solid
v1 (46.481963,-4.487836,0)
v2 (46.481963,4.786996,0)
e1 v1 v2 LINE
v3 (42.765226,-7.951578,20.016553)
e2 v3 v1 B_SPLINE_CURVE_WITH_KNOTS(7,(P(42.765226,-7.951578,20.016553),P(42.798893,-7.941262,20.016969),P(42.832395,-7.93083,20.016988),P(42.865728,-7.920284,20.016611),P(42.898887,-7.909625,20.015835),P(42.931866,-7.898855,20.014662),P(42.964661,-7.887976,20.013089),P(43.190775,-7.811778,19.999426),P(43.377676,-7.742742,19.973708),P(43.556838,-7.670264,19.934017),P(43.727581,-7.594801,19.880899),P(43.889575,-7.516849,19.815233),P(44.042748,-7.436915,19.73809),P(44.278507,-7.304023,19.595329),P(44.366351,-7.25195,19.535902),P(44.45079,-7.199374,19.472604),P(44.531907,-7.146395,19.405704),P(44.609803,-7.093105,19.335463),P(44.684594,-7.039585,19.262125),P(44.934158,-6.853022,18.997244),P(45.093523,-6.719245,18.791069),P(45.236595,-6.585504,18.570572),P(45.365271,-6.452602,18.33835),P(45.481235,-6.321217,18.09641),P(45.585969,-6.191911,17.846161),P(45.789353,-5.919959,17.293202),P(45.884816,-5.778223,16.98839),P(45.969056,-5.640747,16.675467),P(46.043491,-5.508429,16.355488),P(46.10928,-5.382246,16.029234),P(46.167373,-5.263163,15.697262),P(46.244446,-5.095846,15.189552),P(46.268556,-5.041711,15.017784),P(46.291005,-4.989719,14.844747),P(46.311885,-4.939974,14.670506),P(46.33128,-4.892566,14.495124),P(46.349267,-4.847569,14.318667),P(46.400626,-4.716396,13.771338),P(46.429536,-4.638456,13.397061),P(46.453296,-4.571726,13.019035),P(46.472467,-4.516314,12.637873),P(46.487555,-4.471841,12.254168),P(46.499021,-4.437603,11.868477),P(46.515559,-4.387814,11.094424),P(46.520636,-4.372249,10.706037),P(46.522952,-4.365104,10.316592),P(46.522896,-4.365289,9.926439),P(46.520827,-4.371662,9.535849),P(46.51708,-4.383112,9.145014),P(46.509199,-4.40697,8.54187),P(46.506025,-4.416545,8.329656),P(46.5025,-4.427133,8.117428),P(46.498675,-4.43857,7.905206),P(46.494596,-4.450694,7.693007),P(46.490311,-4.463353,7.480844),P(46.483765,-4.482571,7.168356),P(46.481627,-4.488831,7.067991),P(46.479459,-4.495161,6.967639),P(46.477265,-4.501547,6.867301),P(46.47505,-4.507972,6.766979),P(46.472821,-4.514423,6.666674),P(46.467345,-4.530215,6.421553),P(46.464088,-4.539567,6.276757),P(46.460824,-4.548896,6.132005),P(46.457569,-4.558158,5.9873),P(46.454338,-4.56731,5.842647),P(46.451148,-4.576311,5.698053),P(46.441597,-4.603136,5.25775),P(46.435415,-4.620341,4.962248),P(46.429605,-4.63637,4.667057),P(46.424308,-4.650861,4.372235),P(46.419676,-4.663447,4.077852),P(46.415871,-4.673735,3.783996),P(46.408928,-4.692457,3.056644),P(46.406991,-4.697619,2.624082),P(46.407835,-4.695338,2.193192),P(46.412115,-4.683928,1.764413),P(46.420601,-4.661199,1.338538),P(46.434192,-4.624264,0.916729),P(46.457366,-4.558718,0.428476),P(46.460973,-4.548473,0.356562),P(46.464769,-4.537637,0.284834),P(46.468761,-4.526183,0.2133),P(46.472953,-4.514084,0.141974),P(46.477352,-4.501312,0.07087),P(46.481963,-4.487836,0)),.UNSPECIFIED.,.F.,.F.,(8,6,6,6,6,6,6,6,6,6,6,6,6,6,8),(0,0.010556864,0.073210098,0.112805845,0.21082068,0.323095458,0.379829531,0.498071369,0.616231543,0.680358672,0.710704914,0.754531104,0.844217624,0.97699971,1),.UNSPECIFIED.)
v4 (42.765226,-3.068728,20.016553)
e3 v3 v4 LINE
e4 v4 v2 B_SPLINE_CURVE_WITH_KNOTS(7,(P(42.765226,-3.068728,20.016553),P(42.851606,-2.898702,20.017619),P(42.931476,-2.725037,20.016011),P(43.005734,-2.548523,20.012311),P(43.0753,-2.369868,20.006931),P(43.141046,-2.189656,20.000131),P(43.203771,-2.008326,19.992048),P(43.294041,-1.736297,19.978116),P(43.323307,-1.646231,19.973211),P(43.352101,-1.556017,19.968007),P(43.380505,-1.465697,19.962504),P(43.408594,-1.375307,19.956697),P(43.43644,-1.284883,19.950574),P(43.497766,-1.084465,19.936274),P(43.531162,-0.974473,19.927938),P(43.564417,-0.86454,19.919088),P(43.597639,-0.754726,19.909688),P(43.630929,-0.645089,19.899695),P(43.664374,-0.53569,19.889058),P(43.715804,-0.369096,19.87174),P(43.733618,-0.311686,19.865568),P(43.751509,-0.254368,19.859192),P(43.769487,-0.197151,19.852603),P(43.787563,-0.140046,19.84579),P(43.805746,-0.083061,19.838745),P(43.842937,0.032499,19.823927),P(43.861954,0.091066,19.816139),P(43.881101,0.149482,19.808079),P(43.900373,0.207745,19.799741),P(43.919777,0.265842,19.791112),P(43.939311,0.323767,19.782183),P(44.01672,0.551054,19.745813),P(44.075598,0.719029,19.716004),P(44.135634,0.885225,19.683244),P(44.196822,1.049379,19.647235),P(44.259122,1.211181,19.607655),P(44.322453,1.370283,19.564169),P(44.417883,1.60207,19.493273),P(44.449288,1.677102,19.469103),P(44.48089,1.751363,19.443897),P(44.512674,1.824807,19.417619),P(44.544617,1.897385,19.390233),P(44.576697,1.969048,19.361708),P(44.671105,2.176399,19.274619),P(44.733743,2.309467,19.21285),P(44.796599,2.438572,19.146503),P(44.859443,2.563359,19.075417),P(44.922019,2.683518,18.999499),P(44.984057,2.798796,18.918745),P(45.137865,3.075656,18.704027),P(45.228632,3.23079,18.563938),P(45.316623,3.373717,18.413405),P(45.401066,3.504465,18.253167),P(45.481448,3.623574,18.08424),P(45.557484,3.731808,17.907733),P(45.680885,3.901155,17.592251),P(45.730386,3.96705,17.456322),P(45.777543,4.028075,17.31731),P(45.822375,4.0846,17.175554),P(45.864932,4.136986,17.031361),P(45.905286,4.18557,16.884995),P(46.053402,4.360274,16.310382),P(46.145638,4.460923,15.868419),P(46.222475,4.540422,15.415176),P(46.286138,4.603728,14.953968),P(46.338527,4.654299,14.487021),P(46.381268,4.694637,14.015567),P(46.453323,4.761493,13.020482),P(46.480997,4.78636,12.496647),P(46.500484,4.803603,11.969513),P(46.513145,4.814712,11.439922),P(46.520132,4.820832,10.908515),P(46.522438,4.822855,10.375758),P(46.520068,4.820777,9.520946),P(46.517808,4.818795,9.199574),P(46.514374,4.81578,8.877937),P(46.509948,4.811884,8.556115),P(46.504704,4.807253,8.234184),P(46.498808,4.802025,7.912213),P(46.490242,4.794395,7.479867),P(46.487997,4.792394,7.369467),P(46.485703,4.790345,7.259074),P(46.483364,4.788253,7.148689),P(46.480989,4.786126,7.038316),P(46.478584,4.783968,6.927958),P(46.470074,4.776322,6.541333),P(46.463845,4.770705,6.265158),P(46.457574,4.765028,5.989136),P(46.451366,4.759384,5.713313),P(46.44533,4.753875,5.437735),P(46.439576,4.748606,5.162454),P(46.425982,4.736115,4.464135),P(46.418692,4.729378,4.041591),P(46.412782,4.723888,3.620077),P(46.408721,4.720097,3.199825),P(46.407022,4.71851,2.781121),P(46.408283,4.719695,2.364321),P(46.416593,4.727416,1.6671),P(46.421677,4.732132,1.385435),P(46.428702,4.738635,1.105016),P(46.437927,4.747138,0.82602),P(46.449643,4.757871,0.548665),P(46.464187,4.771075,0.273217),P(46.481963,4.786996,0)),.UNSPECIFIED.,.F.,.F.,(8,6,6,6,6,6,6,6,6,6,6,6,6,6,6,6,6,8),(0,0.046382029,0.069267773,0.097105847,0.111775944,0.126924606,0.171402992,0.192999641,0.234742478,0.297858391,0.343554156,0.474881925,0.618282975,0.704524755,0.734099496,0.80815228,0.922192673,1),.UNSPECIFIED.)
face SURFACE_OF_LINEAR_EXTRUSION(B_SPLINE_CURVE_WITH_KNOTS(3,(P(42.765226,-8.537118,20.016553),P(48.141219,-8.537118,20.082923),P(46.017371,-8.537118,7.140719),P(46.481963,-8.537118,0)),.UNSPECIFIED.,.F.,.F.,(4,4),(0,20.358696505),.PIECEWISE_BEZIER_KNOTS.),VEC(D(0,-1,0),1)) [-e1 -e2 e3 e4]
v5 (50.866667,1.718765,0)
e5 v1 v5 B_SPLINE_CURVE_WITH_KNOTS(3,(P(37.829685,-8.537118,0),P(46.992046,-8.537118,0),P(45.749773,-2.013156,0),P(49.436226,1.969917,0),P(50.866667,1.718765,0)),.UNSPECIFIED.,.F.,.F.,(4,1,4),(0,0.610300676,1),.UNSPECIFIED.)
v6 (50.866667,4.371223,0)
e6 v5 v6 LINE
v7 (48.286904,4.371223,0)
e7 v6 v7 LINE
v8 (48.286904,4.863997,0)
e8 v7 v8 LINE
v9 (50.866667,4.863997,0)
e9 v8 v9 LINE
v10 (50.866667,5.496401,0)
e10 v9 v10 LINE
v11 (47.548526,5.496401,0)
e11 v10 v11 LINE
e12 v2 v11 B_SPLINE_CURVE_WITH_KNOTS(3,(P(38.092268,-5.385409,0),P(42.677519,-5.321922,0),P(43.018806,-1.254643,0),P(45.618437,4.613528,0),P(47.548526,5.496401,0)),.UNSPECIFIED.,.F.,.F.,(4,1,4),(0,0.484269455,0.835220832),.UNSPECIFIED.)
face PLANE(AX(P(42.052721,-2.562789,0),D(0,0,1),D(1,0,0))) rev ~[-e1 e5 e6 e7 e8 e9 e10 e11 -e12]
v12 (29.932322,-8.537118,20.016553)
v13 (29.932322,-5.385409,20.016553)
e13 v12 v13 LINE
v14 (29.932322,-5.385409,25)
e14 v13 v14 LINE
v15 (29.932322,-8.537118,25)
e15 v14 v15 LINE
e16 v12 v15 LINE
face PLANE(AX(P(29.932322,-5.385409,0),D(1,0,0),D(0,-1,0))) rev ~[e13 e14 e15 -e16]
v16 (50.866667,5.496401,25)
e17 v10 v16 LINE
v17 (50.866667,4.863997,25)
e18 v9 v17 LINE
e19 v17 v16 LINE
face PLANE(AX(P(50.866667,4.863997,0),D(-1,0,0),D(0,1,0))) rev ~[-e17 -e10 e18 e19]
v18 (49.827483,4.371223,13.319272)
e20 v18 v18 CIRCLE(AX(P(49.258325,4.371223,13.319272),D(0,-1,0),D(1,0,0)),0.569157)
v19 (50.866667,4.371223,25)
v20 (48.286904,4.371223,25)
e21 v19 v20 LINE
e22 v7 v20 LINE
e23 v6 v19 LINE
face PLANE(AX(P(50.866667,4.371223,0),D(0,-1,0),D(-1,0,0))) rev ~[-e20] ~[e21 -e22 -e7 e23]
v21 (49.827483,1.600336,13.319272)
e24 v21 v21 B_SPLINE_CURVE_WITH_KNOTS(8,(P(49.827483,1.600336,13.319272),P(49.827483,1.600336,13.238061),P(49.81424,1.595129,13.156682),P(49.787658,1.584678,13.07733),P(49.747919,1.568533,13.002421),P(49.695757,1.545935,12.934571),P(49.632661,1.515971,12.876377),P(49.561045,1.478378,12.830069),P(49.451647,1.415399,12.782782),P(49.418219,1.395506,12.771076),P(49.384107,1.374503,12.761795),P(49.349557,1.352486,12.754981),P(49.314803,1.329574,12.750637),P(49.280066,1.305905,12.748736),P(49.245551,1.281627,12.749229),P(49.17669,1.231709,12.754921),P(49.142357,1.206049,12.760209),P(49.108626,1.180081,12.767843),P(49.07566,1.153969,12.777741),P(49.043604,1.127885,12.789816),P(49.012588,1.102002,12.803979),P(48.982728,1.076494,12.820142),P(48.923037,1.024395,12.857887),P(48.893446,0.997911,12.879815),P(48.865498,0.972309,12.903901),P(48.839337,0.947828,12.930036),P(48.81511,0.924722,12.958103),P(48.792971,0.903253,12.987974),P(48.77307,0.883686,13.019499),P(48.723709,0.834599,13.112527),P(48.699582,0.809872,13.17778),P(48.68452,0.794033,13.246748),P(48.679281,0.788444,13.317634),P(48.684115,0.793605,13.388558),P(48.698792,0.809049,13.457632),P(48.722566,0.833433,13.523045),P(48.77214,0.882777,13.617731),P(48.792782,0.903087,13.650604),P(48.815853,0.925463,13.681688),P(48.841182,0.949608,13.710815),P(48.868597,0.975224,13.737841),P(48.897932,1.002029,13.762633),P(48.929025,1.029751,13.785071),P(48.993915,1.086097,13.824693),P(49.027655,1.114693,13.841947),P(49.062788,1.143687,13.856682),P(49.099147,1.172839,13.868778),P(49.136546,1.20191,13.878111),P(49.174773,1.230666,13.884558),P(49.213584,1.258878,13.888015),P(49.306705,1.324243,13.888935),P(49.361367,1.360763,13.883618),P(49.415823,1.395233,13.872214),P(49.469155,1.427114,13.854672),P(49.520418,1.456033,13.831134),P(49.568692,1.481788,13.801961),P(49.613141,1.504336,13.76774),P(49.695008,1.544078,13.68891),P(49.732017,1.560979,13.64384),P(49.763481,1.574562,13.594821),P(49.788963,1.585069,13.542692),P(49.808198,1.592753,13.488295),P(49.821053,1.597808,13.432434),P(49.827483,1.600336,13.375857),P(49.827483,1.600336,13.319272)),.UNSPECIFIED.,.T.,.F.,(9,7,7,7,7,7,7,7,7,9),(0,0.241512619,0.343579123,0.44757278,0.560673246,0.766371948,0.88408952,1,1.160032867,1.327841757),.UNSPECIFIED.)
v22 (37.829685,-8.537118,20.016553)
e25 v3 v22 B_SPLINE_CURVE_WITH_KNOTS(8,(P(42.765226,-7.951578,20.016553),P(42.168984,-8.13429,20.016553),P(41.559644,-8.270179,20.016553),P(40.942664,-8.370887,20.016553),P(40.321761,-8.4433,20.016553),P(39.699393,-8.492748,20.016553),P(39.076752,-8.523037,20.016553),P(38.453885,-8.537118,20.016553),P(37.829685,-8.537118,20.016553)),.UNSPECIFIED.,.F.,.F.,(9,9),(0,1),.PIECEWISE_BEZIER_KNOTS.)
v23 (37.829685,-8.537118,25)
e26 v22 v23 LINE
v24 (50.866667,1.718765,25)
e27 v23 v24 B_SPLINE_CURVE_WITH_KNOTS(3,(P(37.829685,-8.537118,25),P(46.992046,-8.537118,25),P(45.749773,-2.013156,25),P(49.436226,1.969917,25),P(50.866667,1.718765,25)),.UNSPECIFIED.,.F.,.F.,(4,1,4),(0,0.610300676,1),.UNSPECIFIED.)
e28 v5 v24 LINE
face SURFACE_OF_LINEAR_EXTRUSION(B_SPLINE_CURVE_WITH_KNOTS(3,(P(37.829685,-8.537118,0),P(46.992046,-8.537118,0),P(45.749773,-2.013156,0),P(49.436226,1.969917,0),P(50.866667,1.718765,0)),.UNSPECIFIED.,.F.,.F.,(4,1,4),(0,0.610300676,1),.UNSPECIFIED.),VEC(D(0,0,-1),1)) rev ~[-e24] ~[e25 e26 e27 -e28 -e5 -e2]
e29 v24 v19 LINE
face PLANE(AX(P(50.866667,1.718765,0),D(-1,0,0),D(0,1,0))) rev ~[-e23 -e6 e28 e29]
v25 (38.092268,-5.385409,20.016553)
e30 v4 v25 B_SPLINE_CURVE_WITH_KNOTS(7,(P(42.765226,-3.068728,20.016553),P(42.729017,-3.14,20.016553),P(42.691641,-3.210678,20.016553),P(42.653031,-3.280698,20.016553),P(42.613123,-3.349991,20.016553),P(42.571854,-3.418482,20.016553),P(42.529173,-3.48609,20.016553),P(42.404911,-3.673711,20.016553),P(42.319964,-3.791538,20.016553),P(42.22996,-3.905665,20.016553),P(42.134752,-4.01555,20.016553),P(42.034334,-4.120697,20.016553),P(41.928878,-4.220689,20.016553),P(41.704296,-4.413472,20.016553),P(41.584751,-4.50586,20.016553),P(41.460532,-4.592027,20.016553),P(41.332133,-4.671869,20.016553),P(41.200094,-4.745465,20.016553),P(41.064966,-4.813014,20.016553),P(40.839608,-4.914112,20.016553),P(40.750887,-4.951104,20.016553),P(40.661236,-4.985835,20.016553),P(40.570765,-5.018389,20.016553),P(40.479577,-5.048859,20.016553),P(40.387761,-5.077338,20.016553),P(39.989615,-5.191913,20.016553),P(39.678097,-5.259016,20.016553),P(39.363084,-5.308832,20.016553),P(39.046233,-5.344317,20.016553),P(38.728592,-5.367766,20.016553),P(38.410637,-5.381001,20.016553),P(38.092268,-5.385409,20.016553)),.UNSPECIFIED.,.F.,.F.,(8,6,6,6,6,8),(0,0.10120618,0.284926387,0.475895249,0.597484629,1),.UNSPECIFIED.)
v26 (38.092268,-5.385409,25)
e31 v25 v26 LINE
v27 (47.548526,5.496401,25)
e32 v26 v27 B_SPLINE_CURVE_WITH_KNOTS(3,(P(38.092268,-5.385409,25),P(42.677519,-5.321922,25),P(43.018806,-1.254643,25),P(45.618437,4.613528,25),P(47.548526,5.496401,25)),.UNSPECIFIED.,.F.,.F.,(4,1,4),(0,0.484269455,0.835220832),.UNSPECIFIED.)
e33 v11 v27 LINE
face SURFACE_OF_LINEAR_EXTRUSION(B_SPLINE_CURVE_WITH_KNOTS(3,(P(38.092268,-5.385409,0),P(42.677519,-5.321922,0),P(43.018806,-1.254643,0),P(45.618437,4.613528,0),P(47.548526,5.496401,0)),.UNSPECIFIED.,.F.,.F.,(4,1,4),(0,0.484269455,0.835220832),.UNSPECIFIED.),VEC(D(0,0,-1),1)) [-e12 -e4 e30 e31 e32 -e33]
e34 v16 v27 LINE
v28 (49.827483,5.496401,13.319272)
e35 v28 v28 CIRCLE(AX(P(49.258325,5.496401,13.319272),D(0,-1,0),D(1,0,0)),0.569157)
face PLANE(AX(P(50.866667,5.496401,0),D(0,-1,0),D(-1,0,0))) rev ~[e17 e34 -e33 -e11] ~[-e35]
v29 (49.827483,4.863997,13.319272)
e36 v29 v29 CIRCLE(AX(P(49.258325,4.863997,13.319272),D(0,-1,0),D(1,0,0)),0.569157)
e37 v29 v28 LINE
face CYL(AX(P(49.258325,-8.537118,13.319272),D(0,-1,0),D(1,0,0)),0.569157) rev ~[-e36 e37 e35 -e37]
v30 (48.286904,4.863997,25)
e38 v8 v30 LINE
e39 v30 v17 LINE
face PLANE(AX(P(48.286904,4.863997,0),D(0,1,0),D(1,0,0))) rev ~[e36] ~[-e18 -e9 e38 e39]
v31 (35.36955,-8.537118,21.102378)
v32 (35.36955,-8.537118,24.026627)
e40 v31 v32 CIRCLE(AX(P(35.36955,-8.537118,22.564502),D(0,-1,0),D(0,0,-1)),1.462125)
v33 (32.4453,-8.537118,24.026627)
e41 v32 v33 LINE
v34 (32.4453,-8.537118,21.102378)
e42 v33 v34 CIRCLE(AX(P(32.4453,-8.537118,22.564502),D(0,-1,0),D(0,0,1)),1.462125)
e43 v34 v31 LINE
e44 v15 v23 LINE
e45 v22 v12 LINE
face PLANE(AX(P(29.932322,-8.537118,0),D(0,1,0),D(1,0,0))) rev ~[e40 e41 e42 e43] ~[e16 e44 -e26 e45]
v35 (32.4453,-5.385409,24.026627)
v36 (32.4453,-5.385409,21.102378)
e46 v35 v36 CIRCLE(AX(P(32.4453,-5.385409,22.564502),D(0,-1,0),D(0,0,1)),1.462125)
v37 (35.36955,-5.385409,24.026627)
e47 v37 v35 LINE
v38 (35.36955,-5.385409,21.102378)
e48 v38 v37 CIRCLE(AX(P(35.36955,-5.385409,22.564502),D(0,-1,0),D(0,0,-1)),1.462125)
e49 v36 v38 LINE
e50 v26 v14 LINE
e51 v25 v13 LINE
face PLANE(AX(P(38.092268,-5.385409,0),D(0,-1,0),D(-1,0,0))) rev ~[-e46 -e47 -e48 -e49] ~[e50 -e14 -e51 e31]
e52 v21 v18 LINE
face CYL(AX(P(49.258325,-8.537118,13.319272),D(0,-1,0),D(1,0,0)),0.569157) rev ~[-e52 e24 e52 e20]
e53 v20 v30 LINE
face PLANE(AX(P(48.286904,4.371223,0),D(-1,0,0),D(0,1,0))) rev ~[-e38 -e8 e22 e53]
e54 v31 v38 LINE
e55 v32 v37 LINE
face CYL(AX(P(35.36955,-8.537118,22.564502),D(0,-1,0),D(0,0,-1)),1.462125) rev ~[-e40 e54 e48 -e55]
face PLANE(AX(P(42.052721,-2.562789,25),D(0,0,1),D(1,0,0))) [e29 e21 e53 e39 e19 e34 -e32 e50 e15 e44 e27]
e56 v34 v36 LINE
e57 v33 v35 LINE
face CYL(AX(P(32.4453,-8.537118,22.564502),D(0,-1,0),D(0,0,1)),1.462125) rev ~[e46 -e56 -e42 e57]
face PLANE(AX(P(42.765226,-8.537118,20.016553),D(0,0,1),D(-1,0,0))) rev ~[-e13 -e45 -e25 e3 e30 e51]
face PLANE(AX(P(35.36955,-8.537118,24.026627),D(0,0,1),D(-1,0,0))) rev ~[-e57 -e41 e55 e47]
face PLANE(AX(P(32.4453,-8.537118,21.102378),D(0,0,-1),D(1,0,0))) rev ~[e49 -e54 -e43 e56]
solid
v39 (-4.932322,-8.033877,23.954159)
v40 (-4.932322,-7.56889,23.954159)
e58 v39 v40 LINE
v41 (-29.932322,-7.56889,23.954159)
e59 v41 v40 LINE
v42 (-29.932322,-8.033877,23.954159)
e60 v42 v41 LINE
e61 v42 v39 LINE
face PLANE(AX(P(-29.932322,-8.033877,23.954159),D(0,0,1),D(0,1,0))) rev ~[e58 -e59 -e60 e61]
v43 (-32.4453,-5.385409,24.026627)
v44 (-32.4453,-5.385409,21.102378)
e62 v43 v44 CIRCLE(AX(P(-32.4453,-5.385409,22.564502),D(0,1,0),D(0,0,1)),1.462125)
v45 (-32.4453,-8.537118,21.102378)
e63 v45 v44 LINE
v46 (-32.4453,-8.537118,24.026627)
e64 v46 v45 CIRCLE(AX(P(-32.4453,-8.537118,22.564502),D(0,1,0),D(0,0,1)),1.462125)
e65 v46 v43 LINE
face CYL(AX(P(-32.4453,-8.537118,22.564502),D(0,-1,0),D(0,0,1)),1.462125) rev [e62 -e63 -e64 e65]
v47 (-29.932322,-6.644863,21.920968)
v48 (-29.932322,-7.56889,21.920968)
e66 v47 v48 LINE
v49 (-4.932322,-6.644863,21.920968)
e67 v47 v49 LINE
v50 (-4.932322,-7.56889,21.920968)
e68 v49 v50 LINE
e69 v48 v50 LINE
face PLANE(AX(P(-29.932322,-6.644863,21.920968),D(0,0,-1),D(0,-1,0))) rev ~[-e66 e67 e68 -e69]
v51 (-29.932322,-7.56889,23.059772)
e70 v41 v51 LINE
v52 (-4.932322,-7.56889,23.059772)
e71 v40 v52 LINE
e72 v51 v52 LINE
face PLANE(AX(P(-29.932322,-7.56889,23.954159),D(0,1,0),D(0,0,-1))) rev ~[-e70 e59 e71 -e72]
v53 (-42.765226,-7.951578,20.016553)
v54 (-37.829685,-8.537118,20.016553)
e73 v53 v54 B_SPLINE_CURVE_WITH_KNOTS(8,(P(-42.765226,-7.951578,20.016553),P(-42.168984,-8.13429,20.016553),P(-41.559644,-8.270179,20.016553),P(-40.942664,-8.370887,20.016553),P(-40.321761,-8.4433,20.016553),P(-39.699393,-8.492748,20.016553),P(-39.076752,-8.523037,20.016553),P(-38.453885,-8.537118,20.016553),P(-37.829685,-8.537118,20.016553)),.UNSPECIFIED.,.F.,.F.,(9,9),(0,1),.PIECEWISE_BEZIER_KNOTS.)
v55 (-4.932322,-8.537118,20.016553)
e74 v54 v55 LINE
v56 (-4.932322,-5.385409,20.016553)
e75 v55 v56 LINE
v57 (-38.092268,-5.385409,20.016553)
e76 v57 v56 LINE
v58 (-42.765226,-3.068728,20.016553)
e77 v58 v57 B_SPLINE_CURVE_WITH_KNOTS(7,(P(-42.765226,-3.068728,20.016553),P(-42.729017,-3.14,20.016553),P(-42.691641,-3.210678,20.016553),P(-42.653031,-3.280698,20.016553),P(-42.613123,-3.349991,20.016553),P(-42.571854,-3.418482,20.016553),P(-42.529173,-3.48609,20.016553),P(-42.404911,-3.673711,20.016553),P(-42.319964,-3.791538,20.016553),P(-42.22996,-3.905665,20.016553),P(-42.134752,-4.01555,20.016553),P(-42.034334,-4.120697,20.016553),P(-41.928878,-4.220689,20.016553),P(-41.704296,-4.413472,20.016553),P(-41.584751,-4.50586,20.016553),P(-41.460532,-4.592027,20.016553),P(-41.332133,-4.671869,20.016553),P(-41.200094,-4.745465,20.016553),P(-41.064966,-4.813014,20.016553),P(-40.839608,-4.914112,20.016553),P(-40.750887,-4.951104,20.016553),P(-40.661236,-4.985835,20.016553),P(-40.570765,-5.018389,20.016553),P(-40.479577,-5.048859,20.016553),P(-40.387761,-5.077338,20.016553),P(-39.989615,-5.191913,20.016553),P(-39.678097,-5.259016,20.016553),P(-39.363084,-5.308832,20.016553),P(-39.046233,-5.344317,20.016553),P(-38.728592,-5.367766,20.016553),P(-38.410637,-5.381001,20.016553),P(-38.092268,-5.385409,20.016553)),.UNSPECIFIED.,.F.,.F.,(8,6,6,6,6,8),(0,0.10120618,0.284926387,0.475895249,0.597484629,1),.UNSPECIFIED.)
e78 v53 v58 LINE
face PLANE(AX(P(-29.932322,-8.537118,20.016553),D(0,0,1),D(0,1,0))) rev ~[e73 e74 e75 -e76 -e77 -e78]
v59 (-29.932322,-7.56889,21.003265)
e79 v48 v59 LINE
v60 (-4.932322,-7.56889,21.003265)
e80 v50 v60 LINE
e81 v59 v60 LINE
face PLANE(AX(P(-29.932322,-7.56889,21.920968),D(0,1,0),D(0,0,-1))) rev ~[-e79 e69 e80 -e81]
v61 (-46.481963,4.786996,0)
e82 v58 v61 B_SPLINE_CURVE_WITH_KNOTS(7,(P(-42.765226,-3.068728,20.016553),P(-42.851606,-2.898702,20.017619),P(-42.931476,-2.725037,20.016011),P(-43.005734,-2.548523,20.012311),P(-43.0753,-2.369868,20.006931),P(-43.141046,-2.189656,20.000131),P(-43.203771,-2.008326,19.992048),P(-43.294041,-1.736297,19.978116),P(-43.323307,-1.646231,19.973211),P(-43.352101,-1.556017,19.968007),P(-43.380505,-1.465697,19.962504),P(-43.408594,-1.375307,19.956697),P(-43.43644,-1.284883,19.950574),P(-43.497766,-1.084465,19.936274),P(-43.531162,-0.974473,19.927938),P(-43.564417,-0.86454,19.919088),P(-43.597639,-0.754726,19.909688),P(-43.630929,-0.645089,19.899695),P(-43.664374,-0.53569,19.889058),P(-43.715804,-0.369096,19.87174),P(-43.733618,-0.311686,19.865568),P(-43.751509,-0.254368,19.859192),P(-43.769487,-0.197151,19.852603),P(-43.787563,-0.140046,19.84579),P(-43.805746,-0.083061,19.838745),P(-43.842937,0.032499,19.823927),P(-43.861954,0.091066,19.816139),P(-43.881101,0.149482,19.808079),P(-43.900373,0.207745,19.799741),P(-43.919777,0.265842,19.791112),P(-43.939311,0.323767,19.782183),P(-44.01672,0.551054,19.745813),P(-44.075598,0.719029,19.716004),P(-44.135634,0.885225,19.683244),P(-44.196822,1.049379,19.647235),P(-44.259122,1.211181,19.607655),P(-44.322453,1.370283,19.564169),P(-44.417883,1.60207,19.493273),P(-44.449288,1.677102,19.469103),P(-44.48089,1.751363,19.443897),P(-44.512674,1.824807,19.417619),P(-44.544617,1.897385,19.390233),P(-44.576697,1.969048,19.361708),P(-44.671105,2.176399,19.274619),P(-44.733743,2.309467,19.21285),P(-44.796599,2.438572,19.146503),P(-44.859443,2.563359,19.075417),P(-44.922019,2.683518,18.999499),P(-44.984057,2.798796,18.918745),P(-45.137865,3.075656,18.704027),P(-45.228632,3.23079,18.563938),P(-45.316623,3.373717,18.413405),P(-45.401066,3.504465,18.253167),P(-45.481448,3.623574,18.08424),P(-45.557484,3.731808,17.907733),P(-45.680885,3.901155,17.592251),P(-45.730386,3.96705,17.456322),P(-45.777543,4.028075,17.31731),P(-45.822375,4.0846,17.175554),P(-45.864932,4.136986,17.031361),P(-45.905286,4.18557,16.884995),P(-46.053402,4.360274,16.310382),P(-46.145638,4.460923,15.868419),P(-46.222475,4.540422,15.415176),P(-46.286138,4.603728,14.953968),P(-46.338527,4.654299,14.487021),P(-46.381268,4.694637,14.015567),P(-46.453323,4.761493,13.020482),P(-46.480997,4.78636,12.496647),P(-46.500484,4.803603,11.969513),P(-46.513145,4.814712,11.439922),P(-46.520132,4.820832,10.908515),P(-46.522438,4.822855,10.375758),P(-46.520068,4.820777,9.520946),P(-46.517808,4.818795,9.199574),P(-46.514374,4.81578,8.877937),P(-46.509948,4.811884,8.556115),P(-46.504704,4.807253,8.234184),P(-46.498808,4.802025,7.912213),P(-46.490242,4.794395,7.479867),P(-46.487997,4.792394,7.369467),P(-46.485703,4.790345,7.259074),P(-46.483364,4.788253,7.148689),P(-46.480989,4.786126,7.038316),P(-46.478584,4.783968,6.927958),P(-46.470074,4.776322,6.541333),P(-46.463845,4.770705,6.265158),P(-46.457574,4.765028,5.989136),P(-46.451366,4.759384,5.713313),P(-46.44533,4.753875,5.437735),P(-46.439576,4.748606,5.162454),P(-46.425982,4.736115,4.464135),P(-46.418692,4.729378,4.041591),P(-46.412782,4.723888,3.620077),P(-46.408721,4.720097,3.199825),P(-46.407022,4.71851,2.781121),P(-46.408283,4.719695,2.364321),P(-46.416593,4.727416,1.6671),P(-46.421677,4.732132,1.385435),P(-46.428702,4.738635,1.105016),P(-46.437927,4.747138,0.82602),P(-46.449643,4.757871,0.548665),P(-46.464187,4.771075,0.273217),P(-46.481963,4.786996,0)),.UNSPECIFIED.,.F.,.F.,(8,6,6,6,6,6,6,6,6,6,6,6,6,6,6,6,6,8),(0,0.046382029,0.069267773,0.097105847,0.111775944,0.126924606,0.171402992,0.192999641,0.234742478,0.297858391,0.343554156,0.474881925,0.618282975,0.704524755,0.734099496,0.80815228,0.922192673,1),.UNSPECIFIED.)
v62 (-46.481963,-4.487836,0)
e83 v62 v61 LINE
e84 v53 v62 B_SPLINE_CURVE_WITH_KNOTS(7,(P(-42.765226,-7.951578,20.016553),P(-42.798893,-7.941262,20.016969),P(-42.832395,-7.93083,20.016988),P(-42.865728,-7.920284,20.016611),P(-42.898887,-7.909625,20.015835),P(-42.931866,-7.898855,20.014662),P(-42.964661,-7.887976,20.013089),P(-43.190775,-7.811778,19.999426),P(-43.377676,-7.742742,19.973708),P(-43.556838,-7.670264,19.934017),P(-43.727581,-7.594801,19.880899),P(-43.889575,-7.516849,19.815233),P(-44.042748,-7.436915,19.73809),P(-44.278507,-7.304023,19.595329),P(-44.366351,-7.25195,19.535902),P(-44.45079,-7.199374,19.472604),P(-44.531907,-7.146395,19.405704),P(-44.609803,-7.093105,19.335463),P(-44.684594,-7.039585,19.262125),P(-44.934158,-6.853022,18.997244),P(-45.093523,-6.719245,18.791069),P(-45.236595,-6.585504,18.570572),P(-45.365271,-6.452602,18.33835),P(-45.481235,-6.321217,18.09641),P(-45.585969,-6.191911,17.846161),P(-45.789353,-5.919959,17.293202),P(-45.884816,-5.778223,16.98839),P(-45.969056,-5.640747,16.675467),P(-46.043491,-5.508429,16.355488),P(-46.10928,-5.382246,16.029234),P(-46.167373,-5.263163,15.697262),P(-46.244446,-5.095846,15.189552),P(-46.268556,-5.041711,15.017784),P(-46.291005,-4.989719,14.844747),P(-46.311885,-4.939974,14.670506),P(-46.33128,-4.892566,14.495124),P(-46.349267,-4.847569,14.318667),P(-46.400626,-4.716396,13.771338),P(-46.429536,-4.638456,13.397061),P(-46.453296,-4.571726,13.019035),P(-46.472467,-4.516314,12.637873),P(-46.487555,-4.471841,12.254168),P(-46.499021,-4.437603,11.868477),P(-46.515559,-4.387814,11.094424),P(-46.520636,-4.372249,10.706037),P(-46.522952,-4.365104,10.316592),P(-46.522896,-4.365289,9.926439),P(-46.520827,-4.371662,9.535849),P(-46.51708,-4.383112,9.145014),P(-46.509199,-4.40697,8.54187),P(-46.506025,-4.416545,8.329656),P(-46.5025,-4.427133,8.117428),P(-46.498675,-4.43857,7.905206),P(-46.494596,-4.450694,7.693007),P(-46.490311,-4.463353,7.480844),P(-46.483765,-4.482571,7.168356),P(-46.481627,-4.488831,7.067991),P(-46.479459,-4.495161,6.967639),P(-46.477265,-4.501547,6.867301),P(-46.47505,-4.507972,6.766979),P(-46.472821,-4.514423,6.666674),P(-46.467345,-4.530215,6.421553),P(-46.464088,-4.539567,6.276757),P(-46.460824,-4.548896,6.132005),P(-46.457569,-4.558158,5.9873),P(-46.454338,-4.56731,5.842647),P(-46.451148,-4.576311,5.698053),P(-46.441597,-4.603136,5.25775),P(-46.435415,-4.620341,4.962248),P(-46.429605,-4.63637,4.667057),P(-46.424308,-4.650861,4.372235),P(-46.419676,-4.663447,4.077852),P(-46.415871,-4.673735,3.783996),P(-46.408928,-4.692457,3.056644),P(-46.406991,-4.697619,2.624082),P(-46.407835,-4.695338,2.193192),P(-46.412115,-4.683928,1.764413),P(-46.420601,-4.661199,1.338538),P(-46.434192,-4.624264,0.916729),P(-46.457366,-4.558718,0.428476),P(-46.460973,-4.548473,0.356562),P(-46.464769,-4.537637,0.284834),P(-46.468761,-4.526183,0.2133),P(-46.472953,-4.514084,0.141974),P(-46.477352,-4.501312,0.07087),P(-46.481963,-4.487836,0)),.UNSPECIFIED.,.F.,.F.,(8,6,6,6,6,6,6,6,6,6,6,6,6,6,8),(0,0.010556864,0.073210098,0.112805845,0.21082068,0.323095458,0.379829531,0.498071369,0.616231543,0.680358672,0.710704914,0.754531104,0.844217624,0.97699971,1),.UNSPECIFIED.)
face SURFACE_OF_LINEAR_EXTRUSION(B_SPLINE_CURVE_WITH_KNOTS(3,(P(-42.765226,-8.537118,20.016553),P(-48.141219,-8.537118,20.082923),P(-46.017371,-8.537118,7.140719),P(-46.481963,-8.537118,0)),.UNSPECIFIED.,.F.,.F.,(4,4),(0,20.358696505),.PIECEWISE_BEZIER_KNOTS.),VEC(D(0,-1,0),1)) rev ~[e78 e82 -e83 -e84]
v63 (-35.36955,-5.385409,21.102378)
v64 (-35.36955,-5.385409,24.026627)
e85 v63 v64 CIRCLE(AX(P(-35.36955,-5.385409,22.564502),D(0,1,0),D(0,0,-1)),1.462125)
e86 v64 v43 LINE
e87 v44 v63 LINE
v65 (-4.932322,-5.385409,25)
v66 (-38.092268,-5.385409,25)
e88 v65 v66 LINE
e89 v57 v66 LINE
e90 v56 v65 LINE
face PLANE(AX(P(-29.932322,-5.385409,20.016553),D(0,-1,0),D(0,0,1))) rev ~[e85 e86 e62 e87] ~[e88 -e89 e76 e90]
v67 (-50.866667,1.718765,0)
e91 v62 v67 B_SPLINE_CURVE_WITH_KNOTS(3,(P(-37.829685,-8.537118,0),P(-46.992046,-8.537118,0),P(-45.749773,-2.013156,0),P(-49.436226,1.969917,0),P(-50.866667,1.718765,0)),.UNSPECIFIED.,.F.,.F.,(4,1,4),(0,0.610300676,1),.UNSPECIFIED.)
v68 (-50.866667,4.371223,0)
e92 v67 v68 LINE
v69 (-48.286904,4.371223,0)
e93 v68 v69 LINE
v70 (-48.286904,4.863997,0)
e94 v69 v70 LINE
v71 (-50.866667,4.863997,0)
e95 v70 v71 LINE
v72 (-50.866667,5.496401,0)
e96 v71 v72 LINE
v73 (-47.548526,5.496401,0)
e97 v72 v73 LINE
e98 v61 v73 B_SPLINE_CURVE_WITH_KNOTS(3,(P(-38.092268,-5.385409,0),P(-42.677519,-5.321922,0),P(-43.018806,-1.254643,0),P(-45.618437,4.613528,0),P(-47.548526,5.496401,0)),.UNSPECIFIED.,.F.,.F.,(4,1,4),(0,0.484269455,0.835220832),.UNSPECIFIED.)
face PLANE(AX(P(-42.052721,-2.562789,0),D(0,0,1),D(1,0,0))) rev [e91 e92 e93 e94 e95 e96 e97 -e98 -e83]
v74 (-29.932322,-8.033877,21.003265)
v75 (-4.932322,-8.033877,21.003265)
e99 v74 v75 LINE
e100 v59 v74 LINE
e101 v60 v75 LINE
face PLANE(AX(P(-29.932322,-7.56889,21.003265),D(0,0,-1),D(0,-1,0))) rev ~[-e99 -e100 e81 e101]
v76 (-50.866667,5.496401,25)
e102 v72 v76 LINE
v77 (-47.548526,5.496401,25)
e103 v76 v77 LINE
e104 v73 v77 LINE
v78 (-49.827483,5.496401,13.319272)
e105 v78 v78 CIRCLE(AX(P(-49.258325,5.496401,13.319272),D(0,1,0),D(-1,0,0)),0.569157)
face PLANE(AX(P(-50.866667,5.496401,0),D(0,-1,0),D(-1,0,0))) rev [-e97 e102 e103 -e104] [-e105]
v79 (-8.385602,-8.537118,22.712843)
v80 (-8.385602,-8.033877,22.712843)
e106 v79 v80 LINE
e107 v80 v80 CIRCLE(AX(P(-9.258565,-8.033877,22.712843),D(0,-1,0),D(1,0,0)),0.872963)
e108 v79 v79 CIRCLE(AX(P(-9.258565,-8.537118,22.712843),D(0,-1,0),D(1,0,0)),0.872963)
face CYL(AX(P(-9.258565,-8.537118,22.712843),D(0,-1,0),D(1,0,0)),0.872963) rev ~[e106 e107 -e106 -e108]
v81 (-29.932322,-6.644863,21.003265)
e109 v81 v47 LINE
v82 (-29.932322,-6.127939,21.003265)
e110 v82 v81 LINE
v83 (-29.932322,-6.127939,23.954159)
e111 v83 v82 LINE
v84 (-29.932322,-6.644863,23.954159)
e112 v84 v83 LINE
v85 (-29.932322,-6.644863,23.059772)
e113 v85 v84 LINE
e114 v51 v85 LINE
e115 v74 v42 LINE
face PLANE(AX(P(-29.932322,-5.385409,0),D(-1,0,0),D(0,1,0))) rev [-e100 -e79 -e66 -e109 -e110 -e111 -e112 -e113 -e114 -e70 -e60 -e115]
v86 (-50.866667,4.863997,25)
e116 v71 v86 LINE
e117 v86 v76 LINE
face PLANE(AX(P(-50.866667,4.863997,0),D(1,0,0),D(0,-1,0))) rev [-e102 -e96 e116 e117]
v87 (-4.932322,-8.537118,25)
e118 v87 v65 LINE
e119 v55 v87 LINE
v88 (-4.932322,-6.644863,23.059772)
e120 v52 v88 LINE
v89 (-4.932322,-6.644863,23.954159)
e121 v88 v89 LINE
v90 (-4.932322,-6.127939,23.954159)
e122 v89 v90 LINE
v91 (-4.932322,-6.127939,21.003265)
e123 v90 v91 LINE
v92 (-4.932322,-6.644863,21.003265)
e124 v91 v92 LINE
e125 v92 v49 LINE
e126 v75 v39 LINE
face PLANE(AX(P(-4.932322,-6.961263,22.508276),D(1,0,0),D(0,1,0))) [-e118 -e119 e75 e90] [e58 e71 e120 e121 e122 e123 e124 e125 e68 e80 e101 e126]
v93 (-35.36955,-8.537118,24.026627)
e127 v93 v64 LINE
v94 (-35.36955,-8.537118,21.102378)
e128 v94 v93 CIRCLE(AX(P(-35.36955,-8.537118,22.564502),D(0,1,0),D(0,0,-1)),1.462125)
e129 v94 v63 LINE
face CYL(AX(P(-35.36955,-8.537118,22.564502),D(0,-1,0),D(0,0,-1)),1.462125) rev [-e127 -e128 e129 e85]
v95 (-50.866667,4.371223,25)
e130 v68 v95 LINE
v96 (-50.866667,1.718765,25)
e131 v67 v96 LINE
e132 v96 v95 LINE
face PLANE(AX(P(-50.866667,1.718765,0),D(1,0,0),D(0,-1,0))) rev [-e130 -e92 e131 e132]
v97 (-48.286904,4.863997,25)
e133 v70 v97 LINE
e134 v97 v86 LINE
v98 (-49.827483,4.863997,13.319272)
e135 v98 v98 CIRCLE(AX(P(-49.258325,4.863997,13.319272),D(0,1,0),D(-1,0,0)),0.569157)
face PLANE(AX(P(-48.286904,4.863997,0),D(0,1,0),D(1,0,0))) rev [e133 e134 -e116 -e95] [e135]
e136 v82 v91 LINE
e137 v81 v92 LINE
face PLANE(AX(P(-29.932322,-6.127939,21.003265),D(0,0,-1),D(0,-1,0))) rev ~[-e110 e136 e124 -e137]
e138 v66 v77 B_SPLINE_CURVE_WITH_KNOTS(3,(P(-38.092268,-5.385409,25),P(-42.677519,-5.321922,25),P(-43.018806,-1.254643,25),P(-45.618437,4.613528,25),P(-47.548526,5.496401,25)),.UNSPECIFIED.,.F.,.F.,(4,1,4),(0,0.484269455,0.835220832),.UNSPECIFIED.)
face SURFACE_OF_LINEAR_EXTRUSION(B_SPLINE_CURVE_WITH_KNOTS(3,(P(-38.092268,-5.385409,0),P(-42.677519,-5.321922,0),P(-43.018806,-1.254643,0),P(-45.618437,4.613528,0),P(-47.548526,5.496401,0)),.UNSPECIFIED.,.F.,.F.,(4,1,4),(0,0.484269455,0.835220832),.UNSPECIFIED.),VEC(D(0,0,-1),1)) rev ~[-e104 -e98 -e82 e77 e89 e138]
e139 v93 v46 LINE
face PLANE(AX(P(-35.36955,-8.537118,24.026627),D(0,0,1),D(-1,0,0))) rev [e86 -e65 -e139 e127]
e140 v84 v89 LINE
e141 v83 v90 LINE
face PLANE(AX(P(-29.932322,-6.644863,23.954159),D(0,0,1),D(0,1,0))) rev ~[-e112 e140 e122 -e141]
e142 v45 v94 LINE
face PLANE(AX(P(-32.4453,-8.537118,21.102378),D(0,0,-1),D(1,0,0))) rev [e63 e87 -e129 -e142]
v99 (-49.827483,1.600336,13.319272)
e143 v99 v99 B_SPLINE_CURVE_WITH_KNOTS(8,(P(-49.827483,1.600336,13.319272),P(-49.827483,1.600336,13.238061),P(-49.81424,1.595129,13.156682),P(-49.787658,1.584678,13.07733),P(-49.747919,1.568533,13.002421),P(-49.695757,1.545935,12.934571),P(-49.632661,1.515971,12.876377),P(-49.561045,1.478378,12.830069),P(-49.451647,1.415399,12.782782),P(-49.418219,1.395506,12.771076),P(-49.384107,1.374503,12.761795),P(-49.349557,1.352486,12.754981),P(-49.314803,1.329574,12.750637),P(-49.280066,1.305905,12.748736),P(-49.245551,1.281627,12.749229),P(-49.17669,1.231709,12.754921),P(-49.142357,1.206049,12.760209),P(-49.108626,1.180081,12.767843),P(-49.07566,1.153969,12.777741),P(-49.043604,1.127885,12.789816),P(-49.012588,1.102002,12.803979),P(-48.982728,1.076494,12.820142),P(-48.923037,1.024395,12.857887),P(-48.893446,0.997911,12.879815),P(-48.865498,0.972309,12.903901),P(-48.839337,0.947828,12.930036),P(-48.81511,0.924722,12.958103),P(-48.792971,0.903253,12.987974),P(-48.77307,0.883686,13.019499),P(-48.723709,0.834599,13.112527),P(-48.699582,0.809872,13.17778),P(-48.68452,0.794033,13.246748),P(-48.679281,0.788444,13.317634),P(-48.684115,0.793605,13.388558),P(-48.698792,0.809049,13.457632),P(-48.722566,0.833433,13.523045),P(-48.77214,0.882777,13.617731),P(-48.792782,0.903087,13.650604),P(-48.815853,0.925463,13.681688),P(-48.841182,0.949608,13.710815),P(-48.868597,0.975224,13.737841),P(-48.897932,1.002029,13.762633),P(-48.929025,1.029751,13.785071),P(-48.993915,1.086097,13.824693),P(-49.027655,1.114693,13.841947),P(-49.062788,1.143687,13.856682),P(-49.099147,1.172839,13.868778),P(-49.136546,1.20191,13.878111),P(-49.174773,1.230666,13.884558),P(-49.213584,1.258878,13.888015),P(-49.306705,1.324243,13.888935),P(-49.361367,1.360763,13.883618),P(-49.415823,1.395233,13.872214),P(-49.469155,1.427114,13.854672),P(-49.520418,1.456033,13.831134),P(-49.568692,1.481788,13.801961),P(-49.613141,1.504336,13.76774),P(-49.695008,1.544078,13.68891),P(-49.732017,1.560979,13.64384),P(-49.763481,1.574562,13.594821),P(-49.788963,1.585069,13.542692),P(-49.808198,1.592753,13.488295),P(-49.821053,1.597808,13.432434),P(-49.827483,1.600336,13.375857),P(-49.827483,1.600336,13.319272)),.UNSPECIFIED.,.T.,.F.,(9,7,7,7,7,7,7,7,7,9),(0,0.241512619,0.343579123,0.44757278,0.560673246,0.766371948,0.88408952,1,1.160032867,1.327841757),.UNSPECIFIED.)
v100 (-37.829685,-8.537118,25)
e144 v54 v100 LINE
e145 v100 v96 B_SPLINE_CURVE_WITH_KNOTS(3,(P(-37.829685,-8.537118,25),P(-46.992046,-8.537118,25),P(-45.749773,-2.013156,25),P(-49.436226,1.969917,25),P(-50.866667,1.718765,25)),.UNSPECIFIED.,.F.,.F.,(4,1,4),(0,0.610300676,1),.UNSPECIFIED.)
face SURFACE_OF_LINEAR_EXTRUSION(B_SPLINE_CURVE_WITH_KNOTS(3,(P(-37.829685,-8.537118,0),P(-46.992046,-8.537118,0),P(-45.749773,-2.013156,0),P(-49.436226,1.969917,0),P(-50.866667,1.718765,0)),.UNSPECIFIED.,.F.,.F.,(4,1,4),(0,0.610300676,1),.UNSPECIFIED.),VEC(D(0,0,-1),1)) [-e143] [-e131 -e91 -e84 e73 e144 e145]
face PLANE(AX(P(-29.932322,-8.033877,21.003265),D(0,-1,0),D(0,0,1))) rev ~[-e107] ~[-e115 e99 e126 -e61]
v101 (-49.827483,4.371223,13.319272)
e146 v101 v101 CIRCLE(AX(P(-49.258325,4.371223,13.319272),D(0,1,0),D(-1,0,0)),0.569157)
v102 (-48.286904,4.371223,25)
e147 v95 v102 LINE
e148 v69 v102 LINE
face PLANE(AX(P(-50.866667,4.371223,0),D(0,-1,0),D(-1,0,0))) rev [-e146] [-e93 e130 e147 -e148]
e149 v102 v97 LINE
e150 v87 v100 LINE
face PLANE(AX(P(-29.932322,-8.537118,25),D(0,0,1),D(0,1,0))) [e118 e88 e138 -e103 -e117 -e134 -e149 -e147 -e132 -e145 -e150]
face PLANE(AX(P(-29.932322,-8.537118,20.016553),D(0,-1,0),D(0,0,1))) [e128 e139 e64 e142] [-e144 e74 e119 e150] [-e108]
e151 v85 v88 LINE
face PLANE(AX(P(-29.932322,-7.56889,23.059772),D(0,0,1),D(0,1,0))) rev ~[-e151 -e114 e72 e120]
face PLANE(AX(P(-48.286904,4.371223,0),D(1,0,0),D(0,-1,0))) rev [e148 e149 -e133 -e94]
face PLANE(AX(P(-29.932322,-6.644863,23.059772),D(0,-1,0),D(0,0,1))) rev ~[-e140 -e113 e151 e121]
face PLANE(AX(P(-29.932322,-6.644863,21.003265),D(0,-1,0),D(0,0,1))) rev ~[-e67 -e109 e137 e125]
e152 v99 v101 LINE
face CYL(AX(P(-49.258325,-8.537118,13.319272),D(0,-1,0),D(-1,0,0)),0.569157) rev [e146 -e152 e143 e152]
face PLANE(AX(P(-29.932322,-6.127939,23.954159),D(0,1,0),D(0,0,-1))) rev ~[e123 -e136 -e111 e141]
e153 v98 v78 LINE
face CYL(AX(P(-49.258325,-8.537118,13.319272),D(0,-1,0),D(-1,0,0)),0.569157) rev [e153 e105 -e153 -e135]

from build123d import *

# Parameters (mm, degrees)
F1_DEPTH = 25
F2_R     = 0.5691574729
F3_DEPTH = 25
F5_W     = 3.151708856
F5_H     = 4.9834471196
F6_DEPTH = 25
F7_R     = 0.8729634821
F8_DEPTH = 0.5032406053


with BuildPart() as f1:
    # F0 (on Top) → F1 (new body)
    with BuildSketch(Plane.XY):
        with BuildLine():
            Line((50.8666671813, 5.4964012992), (47.5485259414, 5.4964012992))
            add(Edge.make_bspline(
                [(38.0922677794, -5.3854089879), (42.6775189713, -5.3219218698), (43.0188064709, -1.2546433805), (45.6184373211, 4.6135282339), (47.5485259414, 5.4964012992)],
                knots=[0, 0, 0, 0, 0.4842694553, 0.8352208318, 0.8352208318, 0.8352208318, 0.8352208318], degree=3))
            Line((38.0922677794, -5.3854089879), (29.9323219806, -5.3854089879))
            Line((29.9323219806, -5.3854089879), (29.9323219806, -8.5371178439))
            Line((29.9323219806, -8.5371178439), (37.8296850544, -8.5371178439))
            add(Edge.make_bspline(
                [(37.8296850544, -8.5371178439), (46.9920461772, -8.5371178439), (45.7497731331, -2.0131561568), (49.4362264278, 1.9699170904), (50.8666671813, 1.7187654739)],
                knots=[0, 0, 0, 0, 0.6103006755, 1, 1, 1, 1], degree=3))
            Line((50.8666671813, 1.7187654739), (50.8666671813, 4.3712230399))
            Line((50.8666671813, 4.3712230399), (48.2869036496, 4.3712230399))
            Line((48.2869036496, 4.3712230399), (48.2869036496, 4.86399699))
            Line((48.2869036496, 4.86399699), (50.8666671813, 4.86399699))
            Line((50.8666671813, 4.86399699), (50.8666671813, 5.4964012992))
        make_face()
    extrude(amount=F1_DEPTH)

    # F2 (on face) → F3 (cut)
    with BuildSketch(Plane.XZ.offset(8.5371178439)):
        with BuildLine():
            Line((42.7652262151, 20.0165528804), (29.9323219806, 20.0165528804))
            Line((29.9323219806, 20.0165528804), (29.9323219806, 0))
            Line((29.9323219806, 0), (46.4819632471, 0))
            add(Edge.make_bspline(
                [(42.7652262151, 20.0165528804), (48.1412187219, 20.0829226524), (46.0173711181, 7.1407188661), (46.4819632471, 0)],
                knots=[0, 0, 0, 0, 20.3586965049, 20.3586965049, 20.3586965049, 20.3586965049], degree=3))
        make_face()
        with BuildLine():
            Line((35.3695498758, 24.0266271856), (32.4453003705, 24.0266271856))
            ThreePointArc((32.4453003705, 24.0266271856), (30.9831756178, 22.5645024329), (32.4453003705, 21.1023776803))
            Line((32.4453003705, 21.1023776803), (35.3695498758, 21.1023776803))
            ThreePointArc((35.3695498758, 21.1023776803), (36.8316746285, 22.5645024329), (35.3695498758, 24.0266271856))
        make_face()
        with Locations((49.258325249, 13.3192716166)):
            Circle(F2_R)
    extrude(amount=-F3_DEPTH, mode=Mode.SUBTRACT)


with BuildPart() as f4_1:
    # F4: instance of F1
    add(f1.part.mirror(Plane.YZ))

    # F5 (on face) → F6 (join)
    with BuildSketch(Plane.YZ.offset(-29.9323219806)):
        with Locations((-6.9612634159, 22.5082764402)):
            Rectangle(F5_W, F5_H)
        Polygon((-8.0338772386, 21.0032649338), (-8.0338772386, 23.9541586488), (-7.5688902289, 23.9541586488), (-7.5688902289, 23.0597723275), (-6.644862704, 23.0597723275), (-6.644862704, 23.9541586488), (-6.1279390939, 23.9541586488), (-6.1279390939, 21.0032649338), (-6.644862704, 21.0032649338), (-6.644862704, 21.9209678471), (-7.5688902289, 21.9209678471), (-7.5688902289, 21.0032649338), align=None, mode=Mode.SUBTRACT)
    extrude(amount=F6_DEPTH)

    # F7 (on face) → F8 (cut, through all)
    with BuildSketch(Plane.XZ.offset(8.5371178439)):
        with Locations((-9.2585654929, 22.7128434926)):
            Circle(F7_R)
    extrude(amount=-F8_DEPTH, mode=Mode.SUBTRACT)


solid = Compound([f1.part, f4_1.part])
